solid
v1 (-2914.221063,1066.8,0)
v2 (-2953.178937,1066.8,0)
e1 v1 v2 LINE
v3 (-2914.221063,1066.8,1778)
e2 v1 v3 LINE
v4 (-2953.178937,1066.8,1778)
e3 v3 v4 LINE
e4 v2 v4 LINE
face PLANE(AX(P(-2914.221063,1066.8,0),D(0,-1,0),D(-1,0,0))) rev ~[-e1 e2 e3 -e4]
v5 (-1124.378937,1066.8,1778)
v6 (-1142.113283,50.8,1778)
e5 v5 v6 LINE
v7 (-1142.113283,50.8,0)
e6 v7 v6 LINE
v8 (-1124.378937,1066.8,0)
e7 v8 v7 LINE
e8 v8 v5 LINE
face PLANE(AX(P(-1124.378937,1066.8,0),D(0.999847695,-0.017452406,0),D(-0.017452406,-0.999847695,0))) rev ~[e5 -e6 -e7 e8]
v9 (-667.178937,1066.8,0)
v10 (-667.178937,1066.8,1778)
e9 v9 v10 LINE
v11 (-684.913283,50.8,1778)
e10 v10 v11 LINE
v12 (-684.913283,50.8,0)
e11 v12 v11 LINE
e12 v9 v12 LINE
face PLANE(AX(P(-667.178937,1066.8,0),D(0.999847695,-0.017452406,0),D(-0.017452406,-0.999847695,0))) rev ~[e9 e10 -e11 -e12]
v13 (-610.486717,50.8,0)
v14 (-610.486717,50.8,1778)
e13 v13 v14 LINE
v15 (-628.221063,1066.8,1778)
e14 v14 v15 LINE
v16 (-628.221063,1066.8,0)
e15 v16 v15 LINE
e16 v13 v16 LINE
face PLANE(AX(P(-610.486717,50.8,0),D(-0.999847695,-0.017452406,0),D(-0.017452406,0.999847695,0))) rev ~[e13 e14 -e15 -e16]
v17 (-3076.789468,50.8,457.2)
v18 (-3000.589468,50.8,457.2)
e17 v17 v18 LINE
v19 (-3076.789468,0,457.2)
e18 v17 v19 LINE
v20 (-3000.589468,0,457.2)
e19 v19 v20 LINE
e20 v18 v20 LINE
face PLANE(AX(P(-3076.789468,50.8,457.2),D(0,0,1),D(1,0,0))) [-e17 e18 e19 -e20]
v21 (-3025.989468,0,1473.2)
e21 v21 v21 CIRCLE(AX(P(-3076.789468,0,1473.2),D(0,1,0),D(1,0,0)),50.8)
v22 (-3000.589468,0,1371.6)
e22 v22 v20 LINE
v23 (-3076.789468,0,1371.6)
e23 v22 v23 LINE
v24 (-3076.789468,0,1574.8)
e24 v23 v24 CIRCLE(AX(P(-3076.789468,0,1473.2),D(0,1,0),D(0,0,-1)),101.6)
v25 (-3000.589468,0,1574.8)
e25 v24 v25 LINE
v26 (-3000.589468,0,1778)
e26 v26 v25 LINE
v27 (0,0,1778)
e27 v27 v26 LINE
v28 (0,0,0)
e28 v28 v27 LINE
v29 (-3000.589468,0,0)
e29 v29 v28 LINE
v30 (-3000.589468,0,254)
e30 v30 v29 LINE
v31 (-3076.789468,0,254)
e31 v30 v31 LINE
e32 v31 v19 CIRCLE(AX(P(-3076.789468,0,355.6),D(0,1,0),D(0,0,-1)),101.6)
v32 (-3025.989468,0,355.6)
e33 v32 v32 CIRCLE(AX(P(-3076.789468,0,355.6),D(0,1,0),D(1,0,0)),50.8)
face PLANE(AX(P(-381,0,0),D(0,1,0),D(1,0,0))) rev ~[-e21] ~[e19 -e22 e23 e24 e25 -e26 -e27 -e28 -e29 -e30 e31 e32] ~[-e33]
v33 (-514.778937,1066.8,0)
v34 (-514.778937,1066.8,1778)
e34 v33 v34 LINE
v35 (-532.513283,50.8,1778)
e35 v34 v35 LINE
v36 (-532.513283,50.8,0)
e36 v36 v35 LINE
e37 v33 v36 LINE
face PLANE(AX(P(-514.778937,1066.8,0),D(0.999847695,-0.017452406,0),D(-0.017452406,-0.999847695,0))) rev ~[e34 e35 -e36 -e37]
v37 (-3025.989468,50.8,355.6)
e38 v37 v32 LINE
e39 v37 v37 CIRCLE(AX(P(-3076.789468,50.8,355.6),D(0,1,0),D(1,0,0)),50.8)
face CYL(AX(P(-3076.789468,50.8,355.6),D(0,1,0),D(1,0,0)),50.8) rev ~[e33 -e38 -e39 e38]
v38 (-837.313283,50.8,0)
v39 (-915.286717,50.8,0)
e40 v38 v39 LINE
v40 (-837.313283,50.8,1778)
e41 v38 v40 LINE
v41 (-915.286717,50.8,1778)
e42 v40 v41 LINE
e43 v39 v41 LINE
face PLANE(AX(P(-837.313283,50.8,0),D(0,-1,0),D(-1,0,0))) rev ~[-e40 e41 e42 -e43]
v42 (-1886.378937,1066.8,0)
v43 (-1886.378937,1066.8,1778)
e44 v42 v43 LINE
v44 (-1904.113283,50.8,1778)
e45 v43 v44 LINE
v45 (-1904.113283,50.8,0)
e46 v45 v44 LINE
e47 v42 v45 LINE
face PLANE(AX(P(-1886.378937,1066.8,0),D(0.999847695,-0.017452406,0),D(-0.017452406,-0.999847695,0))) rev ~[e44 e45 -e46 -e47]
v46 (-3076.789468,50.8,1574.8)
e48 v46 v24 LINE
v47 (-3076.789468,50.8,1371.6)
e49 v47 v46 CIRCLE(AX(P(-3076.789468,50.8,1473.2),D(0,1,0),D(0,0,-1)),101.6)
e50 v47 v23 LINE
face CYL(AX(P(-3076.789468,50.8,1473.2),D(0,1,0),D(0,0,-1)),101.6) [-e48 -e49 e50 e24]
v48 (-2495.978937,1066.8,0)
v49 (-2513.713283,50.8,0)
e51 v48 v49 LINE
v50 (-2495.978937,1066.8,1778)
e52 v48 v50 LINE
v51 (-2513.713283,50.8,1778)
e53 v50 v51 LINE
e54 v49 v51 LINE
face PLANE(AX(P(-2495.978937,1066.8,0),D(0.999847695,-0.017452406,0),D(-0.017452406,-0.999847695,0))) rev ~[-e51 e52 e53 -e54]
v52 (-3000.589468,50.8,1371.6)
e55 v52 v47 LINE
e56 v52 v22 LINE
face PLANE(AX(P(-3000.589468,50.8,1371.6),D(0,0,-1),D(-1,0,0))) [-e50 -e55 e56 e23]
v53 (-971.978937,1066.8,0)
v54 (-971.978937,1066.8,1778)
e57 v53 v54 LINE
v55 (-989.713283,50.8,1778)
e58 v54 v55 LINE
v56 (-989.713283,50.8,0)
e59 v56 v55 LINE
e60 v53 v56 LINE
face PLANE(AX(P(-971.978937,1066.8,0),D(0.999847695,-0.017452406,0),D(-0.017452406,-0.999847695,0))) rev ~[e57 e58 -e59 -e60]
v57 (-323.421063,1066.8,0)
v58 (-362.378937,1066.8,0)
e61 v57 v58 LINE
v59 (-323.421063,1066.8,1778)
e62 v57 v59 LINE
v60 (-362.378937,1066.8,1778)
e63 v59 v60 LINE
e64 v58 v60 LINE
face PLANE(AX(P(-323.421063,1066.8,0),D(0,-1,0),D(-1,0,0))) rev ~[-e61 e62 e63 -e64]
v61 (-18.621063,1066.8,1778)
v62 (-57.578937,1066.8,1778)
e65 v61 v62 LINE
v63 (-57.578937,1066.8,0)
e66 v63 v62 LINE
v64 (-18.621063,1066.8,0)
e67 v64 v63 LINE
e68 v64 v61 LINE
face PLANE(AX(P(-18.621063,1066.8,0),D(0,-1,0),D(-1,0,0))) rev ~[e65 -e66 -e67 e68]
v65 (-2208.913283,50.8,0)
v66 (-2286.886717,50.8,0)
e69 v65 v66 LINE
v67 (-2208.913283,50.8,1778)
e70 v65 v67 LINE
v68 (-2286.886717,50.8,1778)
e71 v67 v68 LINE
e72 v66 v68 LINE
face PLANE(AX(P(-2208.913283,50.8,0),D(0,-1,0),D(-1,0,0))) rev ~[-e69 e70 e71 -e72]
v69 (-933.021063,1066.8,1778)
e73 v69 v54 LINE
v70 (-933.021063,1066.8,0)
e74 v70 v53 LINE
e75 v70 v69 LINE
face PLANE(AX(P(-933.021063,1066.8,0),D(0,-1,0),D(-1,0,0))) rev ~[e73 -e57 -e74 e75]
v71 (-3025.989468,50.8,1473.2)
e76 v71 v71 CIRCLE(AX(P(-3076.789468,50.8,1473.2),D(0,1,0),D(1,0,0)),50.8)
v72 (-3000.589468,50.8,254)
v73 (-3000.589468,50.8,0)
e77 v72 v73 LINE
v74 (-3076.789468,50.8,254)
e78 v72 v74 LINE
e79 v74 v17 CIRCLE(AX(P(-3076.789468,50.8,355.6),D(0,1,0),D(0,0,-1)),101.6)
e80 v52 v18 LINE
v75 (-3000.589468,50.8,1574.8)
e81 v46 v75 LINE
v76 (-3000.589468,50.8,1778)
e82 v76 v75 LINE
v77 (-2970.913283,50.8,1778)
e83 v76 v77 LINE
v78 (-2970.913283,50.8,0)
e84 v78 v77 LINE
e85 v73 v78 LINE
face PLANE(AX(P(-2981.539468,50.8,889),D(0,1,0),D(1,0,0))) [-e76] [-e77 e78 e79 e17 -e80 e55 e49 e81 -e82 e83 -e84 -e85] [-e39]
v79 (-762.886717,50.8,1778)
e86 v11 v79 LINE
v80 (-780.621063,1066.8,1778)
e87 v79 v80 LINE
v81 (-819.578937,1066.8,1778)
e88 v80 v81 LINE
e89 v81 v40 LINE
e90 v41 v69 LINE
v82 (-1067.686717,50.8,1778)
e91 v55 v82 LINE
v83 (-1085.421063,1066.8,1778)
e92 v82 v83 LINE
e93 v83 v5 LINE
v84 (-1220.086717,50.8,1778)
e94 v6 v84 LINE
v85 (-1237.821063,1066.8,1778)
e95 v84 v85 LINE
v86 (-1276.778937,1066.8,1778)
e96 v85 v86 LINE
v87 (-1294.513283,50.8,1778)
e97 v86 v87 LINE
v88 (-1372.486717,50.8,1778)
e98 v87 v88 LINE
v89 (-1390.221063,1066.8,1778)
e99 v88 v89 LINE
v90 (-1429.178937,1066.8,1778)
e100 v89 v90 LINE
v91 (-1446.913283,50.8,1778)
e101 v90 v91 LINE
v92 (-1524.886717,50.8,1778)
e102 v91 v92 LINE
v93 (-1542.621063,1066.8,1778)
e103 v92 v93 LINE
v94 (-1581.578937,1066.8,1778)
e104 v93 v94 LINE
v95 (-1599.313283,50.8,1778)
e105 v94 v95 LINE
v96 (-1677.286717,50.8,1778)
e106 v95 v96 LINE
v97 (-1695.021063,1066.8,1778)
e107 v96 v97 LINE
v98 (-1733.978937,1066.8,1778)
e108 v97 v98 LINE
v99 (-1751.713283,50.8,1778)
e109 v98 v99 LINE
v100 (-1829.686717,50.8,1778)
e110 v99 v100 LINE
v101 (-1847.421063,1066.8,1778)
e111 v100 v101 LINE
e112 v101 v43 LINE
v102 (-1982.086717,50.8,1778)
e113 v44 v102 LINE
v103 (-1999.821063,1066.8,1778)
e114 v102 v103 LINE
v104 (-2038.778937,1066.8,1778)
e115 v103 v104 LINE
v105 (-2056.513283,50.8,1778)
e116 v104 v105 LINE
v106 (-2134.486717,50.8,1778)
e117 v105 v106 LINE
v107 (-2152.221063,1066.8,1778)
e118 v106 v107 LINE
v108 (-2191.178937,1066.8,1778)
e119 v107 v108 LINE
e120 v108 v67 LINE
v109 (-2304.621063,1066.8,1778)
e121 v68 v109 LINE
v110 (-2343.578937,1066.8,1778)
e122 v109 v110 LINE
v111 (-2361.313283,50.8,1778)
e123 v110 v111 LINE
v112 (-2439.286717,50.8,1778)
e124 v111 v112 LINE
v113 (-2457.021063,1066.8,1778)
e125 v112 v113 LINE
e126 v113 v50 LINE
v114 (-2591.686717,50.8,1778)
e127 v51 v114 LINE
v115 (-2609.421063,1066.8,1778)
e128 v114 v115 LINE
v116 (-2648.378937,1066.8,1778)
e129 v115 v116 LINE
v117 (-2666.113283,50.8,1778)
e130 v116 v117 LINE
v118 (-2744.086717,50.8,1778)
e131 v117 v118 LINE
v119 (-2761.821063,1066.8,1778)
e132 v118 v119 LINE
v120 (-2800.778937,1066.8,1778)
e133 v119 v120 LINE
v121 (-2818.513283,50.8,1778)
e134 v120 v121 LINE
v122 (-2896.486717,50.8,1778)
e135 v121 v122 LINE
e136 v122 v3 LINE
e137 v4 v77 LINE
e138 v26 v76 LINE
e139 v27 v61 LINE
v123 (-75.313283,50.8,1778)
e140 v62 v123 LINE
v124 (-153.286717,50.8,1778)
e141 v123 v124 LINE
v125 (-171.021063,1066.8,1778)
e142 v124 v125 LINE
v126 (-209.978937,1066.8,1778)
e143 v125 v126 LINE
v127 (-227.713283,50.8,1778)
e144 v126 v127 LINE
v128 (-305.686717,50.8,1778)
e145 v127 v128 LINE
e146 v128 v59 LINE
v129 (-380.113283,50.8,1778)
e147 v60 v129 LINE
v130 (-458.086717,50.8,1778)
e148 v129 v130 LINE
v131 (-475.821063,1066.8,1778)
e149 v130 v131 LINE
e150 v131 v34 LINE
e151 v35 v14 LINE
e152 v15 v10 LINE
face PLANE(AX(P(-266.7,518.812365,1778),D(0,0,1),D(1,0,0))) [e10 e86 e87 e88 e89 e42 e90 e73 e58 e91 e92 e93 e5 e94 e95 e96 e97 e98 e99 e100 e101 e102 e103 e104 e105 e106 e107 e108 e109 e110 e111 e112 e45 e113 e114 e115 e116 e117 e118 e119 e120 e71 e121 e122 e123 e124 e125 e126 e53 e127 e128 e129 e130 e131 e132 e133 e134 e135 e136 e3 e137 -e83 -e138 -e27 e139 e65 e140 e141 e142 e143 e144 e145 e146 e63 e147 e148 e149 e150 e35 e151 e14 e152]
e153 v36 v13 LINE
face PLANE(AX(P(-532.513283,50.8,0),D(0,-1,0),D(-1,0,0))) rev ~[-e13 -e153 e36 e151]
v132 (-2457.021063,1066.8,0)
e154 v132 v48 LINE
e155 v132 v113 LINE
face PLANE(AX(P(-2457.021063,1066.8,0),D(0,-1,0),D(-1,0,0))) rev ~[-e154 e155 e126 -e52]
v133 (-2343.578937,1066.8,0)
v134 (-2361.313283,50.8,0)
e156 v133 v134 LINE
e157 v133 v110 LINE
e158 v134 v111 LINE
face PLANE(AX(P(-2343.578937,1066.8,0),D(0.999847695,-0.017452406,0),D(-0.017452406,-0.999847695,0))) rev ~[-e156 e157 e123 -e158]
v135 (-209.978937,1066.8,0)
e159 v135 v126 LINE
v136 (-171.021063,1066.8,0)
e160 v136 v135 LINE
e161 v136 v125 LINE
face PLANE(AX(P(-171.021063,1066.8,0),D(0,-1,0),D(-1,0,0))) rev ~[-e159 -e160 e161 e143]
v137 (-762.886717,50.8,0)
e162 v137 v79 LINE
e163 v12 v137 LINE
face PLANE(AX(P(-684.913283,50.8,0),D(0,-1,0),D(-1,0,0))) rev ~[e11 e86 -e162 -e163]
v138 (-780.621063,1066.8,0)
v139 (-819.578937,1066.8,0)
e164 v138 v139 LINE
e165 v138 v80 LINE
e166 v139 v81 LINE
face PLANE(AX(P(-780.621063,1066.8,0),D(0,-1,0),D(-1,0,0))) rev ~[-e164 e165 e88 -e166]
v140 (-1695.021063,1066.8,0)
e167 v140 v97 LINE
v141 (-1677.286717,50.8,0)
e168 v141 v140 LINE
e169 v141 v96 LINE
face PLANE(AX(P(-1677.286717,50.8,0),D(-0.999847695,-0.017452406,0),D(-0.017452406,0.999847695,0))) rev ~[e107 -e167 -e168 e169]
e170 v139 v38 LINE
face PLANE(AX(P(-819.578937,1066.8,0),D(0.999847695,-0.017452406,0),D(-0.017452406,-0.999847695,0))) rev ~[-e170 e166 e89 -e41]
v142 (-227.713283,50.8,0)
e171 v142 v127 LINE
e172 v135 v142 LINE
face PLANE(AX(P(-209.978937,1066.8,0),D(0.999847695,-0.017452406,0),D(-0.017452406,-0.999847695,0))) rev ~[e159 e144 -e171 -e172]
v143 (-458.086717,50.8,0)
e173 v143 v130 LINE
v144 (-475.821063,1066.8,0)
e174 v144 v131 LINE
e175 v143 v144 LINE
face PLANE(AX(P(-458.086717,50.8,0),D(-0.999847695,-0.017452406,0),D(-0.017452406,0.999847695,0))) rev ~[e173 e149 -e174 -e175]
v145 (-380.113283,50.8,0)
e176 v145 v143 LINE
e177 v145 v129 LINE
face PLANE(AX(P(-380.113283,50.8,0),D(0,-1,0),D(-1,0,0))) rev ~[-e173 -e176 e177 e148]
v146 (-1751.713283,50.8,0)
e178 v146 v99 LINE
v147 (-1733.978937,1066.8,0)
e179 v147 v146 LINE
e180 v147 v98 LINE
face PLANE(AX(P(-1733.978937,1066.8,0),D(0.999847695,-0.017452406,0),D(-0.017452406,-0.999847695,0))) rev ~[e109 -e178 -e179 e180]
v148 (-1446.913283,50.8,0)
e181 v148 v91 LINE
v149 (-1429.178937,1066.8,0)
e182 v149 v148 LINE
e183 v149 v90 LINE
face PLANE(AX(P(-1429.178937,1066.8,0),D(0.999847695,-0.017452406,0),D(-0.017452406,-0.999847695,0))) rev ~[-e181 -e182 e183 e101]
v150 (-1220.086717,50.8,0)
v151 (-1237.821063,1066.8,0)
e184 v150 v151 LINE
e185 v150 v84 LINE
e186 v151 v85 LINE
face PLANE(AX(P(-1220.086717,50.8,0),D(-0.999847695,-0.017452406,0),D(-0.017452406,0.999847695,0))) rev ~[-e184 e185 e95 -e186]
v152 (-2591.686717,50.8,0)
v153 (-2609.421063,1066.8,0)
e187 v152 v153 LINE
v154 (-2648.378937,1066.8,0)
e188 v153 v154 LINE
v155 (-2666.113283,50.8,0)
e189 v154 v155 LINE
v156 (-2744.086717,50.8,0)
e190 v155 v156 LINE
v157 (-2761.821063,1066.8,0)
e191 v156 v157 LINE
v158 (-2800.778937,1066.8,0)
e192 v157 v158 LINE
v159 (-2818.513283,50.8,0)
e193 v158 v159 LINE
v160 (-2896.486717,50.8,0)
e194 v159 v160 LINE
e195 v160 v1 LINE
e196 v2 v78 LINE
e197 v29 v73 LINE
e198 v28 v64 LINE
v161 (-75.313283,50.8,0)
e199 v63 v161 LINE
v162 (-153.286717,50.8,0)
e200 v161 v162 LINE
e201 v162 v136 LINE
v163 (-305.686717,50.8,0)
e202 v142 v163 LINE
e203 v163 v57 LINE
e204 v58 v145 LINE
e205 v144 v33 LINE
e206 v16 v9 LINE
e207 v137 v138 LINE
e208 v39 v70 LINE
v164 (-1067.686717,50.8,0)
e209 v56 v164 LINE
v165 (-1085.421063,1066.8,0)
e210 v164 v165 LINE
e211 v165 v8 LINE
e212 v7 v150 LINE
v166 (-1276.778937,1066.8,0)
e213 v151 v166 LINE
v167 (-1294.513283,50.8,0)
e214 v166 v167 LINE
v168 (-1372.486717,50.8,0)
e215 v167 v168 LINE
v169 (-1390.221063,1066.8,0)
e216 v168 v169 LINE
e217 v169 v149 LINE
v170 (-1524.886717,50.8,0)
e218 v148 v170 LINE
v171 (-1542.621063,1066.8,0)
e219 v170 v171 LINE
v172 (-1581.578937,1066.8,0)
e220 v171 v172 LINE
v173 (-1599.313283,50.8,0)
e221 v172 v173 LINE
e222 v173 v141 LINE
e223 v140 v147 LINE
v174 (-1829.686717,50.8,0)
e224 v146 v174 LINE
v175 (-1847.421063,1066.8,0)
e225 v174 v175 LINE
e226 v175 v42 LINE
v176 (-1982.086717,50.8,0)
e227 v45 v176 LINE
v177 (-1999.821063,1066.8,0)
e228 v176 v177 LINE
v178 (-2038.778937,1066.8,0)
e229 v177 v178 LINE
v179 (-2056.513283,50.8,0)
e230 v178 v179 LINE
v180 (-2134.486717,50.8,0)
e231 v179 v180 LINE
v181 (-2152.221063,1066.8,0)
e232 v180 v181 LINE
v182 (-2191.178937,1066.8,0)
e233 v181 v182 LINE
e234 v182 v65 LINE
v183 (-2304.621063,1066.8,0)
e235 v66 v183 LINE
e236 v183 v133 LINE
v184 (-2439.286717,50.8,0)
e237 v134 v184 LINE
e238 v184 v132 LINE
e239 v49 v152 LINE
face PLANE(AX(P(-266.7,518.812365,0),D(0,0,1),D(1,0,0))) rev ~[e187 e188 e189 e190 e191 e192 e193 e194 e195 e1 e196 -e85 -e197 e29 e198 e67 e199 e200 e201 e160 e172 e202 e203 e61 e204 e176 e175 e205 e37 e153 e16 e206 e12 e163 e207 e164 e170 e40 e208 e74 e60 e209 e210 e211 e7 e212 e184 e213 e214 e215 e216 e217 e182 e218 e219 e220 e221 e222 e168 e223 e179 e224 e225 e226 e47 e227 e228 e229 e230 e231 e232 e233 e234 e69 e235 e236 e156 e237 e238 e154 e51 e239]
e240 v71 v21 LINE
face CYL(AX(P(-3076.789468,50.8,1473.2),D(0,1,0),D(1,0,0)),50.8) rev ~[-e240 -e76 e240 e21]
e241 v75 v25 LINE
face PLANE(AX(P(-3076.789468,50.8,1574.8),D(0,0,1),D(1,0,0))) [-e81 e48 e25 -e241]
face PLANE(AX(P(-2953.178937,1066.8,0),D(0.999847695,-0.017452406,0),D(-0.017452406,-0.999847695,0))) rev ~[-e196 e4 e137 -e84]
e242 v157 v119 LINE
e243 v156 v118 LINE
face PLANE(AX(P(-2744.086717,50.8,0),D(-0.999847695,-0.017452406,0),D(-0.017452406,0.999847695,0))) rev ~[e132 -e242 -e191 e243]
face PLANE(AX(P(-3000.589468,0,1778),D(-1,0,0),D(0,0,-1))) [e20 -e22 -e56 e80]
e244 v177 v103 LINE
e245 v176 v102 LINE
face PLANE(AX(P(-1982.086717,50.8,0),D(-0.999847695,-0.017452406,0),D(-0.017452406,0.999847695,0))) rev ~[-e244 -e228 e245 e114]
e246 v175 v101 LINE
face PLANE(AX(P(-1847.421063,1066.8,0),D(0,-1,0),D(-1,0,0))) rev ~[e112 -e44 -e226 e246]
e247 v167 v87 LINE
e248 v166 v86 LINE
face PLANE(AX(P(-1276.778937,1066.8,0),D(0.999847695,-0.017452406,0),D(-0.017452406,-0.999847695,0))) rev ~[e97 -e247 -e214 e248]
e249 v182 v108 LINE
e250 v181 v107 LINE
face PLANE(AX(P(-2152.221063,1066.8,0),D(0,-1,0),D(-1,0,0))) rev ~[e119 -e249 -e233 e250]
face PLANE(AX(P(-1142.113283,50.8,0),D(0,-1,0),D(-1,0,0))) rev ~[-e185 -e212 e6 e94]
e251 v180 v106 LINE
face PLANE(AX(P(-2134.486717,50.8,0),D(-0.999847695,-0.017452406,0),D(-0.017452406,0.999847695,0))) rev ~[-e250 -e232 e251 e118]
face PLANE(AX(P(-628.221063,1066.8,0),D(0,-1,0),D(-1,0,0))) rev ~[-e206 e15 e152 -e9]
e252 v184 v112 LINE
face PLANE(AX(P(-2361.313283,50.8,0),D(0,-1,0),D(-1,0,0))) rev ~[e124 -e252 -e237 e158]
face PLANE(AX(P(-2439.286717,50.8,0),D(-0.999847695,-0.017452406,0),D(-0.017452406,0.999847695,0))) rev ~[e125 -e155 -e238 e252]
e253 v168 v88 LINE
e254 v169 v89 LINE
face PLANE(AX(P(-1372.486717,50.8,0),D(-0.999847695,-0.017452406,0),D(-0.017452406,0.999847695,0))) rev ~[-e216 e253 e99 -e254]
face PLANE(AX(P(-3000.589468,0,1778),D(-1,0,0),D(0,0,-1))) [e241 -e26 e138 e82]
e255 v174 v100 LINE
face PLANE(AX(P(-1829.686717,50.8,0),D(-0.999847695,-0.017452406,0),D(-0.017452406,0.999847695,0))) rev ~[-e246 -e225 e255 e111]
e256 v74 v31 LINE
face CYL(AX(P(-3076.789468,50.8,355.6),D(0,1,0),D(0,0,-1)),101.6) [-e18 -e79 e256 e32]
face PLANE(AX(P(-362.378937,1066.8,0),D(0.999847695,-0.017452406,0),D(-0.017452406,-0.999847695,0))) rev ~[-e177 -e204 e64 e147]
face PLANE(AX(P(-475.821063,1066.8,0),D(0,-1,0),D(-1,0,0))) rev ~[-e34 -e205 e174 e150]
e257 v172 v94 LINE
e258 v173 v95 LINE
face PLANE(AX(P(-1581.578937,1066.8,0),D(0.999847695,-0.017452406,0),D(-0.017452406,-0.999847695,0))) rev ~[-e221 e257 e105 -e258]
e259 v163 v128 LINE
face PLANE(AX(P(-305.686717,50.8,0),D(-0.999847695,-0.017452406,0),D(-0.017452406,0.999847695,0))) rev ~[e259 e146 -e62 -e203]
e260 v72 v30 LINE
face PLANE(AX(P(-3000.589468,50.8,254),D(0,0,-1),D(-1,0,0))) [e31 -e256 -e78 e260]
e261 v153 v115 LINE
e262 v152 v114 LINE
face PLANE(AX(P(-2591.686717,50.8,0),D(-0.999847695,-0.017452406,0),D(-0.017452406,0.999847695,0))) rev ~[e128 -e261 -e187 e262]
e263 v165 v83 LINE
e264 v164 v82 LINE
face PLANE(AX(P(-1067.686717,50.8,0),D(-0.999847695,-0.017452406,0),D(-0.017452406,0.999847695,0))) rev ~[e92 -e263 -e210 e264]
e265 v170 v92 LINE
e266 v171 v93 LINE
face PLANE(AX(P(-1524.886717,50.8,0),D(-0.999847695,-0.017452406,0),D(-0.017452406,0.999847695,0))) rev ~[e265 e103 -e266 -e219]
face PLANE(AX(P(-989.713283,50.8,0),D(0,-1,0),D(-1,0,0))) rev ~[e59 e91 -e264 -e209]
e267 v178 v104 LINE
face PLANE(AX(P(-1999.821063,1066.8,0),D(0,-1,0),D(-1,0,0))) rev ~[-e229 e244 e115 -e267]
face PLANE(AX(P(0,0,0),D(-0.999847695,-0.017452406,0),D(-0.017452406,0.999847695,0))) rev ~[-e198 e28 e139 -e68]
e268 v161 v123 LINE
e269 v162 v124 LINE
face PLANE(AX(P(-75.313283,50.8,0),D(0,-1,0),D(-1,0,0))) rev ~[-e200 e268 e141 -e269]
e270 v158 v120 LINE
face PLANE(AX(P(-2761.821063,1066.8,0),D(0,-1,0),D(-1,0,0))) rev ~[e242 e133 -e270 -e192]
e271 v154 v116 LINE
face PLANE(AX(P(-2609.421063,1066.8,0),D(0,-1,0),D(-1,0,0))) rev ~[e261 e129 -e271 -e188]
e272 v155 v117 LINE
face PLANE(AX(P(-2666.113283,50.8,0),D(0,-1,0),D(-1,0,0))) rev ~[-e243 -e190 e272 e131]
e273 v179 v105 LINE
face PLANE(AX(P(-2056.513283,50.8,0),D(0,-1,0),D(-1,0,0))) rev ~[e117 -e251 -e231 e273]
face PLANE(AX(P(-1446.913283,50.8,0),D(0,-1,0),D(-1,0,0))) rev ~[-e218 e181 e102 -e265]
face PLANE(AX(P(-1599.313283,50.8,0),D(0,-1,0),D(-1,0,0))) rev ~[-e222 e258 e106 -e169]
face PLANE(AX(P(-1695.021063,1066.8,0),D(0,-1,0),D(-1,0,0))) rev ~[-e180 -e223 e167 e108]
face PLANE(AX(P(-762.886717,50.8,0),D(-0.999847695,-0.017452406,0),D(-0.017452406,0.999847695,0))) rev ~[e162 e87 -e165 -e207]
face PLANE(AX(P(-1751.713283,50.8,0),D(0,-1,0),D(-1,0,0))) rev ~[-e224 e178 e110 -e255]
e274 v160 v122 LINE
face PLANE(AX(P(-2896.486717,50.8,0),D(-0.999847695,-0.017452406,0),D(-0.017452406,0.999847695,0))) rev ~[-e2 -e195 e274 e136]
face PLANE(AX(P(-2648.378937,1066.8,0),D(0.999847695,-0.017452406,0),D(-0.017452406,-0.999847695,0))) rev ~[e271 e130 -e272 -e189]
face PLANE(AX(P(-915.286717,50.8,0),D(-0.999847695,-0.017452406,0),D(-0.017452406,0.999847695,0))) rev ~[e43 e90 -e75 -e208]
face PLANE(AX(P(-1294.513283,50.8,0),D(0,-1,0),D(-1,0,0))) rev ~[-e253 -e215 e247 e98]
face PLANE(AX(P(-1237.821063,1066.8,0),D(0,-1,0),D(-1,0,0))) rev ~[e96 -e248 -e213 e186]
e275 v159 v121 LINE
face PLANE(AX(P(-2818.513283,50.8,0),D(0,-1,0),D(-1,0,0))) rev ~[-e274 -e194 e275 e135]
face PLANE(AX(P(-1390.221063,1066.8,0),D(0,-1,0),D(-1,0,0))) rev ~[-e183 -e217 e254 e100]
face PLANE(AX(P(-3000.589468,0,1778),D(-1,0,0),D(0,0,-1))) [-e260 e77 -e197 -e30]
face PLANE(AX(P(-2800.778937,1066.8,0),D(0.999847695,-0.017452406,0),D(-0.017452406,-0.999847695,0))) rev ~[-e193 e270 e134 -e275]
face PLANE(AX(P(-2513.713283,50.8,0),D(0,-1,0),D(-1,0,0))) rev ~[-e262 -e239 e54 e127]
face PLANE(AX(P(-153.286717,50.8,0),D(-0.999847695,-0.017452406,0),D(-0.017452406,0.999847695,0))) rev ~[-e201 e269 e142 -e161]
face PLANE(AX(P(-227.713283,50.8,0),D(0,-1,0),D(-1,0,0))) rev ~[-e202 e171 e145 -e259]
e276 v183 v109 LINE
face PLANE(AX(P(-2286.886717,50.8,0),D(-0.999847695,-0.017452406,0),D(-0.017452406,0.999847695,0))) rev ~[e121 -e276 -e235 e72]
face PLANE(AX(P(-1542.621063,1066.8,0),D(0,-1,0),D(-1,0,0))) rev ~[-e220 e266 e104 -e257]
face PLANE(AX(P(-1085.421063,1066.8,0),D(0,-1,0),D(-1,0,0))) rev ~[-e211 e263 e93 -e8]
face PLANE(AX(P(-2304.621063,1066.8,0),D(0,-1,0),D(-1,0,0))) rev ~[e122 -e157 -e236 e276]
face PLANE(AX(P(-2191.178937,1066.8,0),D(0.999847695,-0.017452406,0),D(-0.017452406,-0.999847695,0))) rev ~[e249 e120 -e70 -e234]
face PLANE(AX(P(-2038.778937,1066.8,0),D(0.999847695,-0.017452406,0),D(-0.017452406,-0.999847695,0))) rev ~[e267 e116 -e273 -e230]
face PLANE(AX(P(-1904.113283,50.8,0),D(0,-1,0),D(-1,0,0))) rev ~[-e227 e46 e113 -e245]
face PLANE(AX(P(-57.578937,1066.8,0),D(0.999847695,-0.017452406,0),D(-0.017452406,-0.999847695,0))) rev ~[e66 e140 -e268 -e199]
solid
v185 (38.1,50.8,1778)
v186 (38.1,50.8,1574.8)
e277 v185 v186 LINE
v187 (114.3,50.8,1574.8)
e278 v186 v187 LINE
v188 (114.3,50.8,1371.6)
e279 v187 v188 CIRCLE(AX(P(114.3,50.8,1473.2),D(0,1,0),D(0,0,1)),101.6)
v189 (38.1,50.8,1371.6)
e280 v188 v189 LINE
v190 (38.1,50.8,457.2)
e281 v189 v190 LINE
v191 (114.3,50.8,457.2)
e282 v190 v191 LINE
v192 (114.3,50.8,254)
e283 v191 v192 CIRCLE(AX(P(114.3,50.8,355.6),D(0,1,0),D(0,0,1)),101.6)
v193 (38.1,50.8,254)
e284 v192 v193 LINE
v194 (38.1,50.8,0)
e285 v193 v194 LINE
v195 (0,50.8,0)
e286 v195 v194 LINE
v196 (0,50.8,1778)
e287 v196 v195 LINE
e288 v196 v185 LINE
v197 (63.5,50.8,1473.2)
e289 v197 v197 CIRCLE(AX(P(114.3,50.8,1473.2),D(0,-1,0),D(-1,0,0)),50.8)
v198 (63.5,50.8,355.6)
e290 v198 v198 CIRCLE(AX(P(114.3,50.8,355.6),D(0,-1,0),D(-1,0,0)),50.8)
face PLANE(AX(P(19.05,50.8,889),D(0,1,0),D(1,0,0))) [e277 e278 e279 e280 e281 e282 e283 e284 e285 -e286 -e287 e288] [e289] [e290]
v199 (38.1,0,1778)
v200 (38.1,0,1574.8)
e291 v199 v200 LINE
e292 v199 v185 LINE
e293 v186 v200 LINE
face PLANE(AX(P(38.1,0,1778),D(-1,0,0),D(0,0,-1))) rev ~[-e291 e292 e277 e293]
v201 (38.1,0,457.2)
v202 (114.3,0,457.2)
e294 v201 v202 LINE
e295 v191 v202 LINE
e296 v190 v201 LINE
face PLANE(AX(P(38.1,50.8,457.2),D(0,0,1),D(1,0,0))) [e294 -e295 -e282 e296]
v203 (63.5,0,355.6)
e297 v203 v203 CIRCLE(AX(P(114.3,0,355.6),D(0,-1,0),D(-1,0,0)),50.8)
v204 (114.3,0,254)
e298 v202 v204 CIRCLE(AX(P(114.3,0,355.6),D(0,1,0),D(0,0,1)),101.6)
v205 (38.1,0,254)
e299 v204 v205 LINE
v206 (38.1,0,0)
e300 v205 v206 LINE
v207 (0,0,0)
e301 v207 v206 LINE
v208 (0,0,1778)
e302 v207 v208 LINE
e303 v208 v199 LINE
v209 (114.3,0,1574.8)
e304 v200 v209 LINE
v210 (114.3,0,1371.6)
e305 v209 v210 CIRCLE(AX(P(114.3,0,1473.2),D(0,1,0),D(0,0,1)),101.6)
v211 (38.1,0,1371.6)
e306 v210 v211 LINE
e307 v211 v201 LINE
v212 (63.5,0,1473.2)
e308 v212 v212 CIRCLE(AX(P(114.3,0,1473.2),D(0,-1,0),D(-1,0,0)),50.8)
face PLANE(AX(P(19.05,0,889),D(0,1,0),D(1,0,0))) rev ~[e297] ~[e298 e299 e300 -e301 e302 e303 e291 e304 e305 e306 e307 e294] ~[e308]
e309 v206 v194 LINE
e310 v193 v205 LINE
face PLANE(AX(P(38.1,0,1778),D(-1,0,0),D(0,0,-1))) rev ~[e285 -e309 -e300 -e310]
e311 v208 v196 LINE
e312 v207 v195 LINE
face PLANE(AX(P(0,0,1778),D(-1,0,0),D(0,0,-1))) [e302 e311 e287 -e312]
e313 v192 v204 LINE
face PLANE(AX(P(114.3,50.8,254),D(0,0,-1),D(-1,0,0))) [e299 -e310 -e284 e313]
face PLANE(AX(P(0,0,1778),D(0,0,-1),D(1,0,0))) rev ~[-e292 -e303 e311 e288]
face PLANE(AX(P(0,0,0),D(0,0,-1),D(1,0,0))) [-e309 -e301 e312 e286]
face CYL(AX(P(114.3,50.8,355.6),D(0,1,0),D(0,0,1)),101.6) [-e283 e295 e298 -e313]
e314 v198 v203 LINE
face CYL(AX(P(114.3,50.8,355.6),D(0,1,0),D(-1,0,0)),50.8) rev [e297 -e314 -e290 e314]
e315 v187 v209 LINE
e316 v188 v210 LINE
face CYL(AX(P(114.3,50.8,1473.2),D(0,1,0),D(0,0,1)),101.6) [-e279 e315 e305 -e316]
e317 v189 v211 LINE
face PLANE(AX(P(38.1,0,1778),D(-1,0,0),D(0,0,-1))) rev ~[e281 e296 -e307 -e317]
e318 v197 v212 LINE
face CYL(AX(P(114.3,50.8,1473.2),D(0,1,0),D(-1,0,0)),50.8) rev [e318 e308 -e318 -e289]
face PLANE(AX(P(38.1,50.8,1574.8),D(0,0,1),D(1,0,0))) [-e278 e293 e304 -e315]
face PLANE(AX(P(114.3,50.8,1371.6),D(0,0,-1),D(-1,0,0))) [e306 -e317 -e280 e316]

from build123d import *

# Parameters (mm, degrees)
BOSS_EXTRUDE2_DEPTH = 1778
LPATTERN3_COUNT     = 19
LPATTERN3_PITCH     = 152.4
SKETCH3_W           = 38.1
SKETCH3_H           = 1778
BOSS_EXTRUDE3_DEPTH = 50.8
BOSS_EXTRUDE5_DEPTH = 50.8
LPATTERN4_COUNT     = 2
LPATTERN4_PITCH     = 1117.6
SKETCH5_R           = 50.8
BOSS_EXTRUDE6_DEPTH = 50.8
LPATTERN5_COUNT     = 2
LPATTERN5_PITCH     = 1117.6


with BuildPart() as part:
    # Sketch1 → Boss-Extrude2 (new body)
    with BuildSketch(Plane.XY):
        Polygon((-152.4, 50.8), (-153.286717298, 50.8), (-171.021063265, 1066.8), (-209.978936735, 1066.8), (-228.6, 0), (-152.4, 0), (-76.2, 0), (0, 0), (-18.621063265, 1066.8), (-57.578936735, 1066.8), (-75.313282702, 50.8), (-76.2, 50.8), align=None)
    boss_extrude2 = extrude(amount=BOSS_EXTRUDE2_DEPTH)

    # LPattern3: Boss-Extrude2 ×19
    with Locations(*[(-i * LPATTERN3_PITCH, 0, 0) for i in range(1, LPATTERN3_COUNT)]):
        add(boss_extrude2)

    # Sketch3 → Boss-Extrude3 (add)
    with BuildSketch(Plane(origin=(0, 0, 0), x_dir=(1, 0, 0), z_dir=(0, 1, 0))):
        with Locations((19.05, -889)):
            Rectangle(SKETCH3_W, SKETCH3_H)
        with Locations((-2981.539468367, -889)):
            Rectangle(SKETCH3_W, SKETCH3_H)
    extrude(amount=BOSS_EXTRUDE3_DEPTH)

    # Sketch4 → Boss-Extrude5 (add)
    with BuildSketch(Plane(origin=(0, 50.8, 0), x_dir=(1, 0, 0), z_dir=(0, 1, 0))):
        with BuildLine():
            Line((38.1, -1473.2), (38.1, -1574.8))
            Line((38.1, -1574.8), (114.3, -1574.8))
            ThreePointArc((114.3, -1574.8), (215.9, -1473.2), (114.3, -1371.6))
            Line((114.3, -1371.6), (38.1, -1371.6))
            Line((38.1, -1371.6), (38.1, -1473.2))
        make_face()
        with BuildLine():
            ThreePointArc((165.1, -1473.2), (114.3, -1524), (63.5, -1473.2))
            ThreePointArc((63.5, -1473.2), (114.3, -1422.4), (165.1, -1473.2))
        make_face(mode=Mode.SUBTRACT)
    boss_extrude5 = extrude(amount=-BOSS_EXTRUDE5_DEPTH)

    # LPattern4: Boss-Extrude5 ×2
    with Locations(*[(0, 0, -i * LPATTERN4_PITCH) for i in range(1, LPATTERN4_COUNT)]):
        add(boss_extrude5)

    # Sketch5 → Boss-Extrude6 (add)
    with BuildSketch(Plane(origin=(0, 50.8, 0), x_dir=(1, 0, 0), z_dir=(0, 1, 0))):
        with BuildLine():
            Line((-3076.789468367, -1574.8), (-3000.589468367, -1574.8))
            Line((-3000.589468367, -1574.8), (-3000.589468367, -1473.2))
            Line((-3000.589468367, -1473.2), (-3000.589468367, -1371.6))
            Line((-3000.589468367, -1371.6), (-3076.789468367, -1371.6))
            ThreePointArc((-3076.789468367, -1371.6), (-3178.389468367, -1473.2), (-3076.789468367, -1574.8))
        make_face()
        with Locations((-3076.789468367, -1473.2)):
            Circle(SKETCH5_R, mode=Mode.SUBTRACT)
    boss_extrude6 = extrude(amount=-BOSS_EXTRUDE6_DEPTH)

    # LPattern5: Boss-Extrude6 ×2
    with Locations(*[(0, 0, -i * LPATTERN5_PITCH) for i in range(1, LPATTERN5_COUNT)]):
        add(boss_extrude6)


solid = part.part
